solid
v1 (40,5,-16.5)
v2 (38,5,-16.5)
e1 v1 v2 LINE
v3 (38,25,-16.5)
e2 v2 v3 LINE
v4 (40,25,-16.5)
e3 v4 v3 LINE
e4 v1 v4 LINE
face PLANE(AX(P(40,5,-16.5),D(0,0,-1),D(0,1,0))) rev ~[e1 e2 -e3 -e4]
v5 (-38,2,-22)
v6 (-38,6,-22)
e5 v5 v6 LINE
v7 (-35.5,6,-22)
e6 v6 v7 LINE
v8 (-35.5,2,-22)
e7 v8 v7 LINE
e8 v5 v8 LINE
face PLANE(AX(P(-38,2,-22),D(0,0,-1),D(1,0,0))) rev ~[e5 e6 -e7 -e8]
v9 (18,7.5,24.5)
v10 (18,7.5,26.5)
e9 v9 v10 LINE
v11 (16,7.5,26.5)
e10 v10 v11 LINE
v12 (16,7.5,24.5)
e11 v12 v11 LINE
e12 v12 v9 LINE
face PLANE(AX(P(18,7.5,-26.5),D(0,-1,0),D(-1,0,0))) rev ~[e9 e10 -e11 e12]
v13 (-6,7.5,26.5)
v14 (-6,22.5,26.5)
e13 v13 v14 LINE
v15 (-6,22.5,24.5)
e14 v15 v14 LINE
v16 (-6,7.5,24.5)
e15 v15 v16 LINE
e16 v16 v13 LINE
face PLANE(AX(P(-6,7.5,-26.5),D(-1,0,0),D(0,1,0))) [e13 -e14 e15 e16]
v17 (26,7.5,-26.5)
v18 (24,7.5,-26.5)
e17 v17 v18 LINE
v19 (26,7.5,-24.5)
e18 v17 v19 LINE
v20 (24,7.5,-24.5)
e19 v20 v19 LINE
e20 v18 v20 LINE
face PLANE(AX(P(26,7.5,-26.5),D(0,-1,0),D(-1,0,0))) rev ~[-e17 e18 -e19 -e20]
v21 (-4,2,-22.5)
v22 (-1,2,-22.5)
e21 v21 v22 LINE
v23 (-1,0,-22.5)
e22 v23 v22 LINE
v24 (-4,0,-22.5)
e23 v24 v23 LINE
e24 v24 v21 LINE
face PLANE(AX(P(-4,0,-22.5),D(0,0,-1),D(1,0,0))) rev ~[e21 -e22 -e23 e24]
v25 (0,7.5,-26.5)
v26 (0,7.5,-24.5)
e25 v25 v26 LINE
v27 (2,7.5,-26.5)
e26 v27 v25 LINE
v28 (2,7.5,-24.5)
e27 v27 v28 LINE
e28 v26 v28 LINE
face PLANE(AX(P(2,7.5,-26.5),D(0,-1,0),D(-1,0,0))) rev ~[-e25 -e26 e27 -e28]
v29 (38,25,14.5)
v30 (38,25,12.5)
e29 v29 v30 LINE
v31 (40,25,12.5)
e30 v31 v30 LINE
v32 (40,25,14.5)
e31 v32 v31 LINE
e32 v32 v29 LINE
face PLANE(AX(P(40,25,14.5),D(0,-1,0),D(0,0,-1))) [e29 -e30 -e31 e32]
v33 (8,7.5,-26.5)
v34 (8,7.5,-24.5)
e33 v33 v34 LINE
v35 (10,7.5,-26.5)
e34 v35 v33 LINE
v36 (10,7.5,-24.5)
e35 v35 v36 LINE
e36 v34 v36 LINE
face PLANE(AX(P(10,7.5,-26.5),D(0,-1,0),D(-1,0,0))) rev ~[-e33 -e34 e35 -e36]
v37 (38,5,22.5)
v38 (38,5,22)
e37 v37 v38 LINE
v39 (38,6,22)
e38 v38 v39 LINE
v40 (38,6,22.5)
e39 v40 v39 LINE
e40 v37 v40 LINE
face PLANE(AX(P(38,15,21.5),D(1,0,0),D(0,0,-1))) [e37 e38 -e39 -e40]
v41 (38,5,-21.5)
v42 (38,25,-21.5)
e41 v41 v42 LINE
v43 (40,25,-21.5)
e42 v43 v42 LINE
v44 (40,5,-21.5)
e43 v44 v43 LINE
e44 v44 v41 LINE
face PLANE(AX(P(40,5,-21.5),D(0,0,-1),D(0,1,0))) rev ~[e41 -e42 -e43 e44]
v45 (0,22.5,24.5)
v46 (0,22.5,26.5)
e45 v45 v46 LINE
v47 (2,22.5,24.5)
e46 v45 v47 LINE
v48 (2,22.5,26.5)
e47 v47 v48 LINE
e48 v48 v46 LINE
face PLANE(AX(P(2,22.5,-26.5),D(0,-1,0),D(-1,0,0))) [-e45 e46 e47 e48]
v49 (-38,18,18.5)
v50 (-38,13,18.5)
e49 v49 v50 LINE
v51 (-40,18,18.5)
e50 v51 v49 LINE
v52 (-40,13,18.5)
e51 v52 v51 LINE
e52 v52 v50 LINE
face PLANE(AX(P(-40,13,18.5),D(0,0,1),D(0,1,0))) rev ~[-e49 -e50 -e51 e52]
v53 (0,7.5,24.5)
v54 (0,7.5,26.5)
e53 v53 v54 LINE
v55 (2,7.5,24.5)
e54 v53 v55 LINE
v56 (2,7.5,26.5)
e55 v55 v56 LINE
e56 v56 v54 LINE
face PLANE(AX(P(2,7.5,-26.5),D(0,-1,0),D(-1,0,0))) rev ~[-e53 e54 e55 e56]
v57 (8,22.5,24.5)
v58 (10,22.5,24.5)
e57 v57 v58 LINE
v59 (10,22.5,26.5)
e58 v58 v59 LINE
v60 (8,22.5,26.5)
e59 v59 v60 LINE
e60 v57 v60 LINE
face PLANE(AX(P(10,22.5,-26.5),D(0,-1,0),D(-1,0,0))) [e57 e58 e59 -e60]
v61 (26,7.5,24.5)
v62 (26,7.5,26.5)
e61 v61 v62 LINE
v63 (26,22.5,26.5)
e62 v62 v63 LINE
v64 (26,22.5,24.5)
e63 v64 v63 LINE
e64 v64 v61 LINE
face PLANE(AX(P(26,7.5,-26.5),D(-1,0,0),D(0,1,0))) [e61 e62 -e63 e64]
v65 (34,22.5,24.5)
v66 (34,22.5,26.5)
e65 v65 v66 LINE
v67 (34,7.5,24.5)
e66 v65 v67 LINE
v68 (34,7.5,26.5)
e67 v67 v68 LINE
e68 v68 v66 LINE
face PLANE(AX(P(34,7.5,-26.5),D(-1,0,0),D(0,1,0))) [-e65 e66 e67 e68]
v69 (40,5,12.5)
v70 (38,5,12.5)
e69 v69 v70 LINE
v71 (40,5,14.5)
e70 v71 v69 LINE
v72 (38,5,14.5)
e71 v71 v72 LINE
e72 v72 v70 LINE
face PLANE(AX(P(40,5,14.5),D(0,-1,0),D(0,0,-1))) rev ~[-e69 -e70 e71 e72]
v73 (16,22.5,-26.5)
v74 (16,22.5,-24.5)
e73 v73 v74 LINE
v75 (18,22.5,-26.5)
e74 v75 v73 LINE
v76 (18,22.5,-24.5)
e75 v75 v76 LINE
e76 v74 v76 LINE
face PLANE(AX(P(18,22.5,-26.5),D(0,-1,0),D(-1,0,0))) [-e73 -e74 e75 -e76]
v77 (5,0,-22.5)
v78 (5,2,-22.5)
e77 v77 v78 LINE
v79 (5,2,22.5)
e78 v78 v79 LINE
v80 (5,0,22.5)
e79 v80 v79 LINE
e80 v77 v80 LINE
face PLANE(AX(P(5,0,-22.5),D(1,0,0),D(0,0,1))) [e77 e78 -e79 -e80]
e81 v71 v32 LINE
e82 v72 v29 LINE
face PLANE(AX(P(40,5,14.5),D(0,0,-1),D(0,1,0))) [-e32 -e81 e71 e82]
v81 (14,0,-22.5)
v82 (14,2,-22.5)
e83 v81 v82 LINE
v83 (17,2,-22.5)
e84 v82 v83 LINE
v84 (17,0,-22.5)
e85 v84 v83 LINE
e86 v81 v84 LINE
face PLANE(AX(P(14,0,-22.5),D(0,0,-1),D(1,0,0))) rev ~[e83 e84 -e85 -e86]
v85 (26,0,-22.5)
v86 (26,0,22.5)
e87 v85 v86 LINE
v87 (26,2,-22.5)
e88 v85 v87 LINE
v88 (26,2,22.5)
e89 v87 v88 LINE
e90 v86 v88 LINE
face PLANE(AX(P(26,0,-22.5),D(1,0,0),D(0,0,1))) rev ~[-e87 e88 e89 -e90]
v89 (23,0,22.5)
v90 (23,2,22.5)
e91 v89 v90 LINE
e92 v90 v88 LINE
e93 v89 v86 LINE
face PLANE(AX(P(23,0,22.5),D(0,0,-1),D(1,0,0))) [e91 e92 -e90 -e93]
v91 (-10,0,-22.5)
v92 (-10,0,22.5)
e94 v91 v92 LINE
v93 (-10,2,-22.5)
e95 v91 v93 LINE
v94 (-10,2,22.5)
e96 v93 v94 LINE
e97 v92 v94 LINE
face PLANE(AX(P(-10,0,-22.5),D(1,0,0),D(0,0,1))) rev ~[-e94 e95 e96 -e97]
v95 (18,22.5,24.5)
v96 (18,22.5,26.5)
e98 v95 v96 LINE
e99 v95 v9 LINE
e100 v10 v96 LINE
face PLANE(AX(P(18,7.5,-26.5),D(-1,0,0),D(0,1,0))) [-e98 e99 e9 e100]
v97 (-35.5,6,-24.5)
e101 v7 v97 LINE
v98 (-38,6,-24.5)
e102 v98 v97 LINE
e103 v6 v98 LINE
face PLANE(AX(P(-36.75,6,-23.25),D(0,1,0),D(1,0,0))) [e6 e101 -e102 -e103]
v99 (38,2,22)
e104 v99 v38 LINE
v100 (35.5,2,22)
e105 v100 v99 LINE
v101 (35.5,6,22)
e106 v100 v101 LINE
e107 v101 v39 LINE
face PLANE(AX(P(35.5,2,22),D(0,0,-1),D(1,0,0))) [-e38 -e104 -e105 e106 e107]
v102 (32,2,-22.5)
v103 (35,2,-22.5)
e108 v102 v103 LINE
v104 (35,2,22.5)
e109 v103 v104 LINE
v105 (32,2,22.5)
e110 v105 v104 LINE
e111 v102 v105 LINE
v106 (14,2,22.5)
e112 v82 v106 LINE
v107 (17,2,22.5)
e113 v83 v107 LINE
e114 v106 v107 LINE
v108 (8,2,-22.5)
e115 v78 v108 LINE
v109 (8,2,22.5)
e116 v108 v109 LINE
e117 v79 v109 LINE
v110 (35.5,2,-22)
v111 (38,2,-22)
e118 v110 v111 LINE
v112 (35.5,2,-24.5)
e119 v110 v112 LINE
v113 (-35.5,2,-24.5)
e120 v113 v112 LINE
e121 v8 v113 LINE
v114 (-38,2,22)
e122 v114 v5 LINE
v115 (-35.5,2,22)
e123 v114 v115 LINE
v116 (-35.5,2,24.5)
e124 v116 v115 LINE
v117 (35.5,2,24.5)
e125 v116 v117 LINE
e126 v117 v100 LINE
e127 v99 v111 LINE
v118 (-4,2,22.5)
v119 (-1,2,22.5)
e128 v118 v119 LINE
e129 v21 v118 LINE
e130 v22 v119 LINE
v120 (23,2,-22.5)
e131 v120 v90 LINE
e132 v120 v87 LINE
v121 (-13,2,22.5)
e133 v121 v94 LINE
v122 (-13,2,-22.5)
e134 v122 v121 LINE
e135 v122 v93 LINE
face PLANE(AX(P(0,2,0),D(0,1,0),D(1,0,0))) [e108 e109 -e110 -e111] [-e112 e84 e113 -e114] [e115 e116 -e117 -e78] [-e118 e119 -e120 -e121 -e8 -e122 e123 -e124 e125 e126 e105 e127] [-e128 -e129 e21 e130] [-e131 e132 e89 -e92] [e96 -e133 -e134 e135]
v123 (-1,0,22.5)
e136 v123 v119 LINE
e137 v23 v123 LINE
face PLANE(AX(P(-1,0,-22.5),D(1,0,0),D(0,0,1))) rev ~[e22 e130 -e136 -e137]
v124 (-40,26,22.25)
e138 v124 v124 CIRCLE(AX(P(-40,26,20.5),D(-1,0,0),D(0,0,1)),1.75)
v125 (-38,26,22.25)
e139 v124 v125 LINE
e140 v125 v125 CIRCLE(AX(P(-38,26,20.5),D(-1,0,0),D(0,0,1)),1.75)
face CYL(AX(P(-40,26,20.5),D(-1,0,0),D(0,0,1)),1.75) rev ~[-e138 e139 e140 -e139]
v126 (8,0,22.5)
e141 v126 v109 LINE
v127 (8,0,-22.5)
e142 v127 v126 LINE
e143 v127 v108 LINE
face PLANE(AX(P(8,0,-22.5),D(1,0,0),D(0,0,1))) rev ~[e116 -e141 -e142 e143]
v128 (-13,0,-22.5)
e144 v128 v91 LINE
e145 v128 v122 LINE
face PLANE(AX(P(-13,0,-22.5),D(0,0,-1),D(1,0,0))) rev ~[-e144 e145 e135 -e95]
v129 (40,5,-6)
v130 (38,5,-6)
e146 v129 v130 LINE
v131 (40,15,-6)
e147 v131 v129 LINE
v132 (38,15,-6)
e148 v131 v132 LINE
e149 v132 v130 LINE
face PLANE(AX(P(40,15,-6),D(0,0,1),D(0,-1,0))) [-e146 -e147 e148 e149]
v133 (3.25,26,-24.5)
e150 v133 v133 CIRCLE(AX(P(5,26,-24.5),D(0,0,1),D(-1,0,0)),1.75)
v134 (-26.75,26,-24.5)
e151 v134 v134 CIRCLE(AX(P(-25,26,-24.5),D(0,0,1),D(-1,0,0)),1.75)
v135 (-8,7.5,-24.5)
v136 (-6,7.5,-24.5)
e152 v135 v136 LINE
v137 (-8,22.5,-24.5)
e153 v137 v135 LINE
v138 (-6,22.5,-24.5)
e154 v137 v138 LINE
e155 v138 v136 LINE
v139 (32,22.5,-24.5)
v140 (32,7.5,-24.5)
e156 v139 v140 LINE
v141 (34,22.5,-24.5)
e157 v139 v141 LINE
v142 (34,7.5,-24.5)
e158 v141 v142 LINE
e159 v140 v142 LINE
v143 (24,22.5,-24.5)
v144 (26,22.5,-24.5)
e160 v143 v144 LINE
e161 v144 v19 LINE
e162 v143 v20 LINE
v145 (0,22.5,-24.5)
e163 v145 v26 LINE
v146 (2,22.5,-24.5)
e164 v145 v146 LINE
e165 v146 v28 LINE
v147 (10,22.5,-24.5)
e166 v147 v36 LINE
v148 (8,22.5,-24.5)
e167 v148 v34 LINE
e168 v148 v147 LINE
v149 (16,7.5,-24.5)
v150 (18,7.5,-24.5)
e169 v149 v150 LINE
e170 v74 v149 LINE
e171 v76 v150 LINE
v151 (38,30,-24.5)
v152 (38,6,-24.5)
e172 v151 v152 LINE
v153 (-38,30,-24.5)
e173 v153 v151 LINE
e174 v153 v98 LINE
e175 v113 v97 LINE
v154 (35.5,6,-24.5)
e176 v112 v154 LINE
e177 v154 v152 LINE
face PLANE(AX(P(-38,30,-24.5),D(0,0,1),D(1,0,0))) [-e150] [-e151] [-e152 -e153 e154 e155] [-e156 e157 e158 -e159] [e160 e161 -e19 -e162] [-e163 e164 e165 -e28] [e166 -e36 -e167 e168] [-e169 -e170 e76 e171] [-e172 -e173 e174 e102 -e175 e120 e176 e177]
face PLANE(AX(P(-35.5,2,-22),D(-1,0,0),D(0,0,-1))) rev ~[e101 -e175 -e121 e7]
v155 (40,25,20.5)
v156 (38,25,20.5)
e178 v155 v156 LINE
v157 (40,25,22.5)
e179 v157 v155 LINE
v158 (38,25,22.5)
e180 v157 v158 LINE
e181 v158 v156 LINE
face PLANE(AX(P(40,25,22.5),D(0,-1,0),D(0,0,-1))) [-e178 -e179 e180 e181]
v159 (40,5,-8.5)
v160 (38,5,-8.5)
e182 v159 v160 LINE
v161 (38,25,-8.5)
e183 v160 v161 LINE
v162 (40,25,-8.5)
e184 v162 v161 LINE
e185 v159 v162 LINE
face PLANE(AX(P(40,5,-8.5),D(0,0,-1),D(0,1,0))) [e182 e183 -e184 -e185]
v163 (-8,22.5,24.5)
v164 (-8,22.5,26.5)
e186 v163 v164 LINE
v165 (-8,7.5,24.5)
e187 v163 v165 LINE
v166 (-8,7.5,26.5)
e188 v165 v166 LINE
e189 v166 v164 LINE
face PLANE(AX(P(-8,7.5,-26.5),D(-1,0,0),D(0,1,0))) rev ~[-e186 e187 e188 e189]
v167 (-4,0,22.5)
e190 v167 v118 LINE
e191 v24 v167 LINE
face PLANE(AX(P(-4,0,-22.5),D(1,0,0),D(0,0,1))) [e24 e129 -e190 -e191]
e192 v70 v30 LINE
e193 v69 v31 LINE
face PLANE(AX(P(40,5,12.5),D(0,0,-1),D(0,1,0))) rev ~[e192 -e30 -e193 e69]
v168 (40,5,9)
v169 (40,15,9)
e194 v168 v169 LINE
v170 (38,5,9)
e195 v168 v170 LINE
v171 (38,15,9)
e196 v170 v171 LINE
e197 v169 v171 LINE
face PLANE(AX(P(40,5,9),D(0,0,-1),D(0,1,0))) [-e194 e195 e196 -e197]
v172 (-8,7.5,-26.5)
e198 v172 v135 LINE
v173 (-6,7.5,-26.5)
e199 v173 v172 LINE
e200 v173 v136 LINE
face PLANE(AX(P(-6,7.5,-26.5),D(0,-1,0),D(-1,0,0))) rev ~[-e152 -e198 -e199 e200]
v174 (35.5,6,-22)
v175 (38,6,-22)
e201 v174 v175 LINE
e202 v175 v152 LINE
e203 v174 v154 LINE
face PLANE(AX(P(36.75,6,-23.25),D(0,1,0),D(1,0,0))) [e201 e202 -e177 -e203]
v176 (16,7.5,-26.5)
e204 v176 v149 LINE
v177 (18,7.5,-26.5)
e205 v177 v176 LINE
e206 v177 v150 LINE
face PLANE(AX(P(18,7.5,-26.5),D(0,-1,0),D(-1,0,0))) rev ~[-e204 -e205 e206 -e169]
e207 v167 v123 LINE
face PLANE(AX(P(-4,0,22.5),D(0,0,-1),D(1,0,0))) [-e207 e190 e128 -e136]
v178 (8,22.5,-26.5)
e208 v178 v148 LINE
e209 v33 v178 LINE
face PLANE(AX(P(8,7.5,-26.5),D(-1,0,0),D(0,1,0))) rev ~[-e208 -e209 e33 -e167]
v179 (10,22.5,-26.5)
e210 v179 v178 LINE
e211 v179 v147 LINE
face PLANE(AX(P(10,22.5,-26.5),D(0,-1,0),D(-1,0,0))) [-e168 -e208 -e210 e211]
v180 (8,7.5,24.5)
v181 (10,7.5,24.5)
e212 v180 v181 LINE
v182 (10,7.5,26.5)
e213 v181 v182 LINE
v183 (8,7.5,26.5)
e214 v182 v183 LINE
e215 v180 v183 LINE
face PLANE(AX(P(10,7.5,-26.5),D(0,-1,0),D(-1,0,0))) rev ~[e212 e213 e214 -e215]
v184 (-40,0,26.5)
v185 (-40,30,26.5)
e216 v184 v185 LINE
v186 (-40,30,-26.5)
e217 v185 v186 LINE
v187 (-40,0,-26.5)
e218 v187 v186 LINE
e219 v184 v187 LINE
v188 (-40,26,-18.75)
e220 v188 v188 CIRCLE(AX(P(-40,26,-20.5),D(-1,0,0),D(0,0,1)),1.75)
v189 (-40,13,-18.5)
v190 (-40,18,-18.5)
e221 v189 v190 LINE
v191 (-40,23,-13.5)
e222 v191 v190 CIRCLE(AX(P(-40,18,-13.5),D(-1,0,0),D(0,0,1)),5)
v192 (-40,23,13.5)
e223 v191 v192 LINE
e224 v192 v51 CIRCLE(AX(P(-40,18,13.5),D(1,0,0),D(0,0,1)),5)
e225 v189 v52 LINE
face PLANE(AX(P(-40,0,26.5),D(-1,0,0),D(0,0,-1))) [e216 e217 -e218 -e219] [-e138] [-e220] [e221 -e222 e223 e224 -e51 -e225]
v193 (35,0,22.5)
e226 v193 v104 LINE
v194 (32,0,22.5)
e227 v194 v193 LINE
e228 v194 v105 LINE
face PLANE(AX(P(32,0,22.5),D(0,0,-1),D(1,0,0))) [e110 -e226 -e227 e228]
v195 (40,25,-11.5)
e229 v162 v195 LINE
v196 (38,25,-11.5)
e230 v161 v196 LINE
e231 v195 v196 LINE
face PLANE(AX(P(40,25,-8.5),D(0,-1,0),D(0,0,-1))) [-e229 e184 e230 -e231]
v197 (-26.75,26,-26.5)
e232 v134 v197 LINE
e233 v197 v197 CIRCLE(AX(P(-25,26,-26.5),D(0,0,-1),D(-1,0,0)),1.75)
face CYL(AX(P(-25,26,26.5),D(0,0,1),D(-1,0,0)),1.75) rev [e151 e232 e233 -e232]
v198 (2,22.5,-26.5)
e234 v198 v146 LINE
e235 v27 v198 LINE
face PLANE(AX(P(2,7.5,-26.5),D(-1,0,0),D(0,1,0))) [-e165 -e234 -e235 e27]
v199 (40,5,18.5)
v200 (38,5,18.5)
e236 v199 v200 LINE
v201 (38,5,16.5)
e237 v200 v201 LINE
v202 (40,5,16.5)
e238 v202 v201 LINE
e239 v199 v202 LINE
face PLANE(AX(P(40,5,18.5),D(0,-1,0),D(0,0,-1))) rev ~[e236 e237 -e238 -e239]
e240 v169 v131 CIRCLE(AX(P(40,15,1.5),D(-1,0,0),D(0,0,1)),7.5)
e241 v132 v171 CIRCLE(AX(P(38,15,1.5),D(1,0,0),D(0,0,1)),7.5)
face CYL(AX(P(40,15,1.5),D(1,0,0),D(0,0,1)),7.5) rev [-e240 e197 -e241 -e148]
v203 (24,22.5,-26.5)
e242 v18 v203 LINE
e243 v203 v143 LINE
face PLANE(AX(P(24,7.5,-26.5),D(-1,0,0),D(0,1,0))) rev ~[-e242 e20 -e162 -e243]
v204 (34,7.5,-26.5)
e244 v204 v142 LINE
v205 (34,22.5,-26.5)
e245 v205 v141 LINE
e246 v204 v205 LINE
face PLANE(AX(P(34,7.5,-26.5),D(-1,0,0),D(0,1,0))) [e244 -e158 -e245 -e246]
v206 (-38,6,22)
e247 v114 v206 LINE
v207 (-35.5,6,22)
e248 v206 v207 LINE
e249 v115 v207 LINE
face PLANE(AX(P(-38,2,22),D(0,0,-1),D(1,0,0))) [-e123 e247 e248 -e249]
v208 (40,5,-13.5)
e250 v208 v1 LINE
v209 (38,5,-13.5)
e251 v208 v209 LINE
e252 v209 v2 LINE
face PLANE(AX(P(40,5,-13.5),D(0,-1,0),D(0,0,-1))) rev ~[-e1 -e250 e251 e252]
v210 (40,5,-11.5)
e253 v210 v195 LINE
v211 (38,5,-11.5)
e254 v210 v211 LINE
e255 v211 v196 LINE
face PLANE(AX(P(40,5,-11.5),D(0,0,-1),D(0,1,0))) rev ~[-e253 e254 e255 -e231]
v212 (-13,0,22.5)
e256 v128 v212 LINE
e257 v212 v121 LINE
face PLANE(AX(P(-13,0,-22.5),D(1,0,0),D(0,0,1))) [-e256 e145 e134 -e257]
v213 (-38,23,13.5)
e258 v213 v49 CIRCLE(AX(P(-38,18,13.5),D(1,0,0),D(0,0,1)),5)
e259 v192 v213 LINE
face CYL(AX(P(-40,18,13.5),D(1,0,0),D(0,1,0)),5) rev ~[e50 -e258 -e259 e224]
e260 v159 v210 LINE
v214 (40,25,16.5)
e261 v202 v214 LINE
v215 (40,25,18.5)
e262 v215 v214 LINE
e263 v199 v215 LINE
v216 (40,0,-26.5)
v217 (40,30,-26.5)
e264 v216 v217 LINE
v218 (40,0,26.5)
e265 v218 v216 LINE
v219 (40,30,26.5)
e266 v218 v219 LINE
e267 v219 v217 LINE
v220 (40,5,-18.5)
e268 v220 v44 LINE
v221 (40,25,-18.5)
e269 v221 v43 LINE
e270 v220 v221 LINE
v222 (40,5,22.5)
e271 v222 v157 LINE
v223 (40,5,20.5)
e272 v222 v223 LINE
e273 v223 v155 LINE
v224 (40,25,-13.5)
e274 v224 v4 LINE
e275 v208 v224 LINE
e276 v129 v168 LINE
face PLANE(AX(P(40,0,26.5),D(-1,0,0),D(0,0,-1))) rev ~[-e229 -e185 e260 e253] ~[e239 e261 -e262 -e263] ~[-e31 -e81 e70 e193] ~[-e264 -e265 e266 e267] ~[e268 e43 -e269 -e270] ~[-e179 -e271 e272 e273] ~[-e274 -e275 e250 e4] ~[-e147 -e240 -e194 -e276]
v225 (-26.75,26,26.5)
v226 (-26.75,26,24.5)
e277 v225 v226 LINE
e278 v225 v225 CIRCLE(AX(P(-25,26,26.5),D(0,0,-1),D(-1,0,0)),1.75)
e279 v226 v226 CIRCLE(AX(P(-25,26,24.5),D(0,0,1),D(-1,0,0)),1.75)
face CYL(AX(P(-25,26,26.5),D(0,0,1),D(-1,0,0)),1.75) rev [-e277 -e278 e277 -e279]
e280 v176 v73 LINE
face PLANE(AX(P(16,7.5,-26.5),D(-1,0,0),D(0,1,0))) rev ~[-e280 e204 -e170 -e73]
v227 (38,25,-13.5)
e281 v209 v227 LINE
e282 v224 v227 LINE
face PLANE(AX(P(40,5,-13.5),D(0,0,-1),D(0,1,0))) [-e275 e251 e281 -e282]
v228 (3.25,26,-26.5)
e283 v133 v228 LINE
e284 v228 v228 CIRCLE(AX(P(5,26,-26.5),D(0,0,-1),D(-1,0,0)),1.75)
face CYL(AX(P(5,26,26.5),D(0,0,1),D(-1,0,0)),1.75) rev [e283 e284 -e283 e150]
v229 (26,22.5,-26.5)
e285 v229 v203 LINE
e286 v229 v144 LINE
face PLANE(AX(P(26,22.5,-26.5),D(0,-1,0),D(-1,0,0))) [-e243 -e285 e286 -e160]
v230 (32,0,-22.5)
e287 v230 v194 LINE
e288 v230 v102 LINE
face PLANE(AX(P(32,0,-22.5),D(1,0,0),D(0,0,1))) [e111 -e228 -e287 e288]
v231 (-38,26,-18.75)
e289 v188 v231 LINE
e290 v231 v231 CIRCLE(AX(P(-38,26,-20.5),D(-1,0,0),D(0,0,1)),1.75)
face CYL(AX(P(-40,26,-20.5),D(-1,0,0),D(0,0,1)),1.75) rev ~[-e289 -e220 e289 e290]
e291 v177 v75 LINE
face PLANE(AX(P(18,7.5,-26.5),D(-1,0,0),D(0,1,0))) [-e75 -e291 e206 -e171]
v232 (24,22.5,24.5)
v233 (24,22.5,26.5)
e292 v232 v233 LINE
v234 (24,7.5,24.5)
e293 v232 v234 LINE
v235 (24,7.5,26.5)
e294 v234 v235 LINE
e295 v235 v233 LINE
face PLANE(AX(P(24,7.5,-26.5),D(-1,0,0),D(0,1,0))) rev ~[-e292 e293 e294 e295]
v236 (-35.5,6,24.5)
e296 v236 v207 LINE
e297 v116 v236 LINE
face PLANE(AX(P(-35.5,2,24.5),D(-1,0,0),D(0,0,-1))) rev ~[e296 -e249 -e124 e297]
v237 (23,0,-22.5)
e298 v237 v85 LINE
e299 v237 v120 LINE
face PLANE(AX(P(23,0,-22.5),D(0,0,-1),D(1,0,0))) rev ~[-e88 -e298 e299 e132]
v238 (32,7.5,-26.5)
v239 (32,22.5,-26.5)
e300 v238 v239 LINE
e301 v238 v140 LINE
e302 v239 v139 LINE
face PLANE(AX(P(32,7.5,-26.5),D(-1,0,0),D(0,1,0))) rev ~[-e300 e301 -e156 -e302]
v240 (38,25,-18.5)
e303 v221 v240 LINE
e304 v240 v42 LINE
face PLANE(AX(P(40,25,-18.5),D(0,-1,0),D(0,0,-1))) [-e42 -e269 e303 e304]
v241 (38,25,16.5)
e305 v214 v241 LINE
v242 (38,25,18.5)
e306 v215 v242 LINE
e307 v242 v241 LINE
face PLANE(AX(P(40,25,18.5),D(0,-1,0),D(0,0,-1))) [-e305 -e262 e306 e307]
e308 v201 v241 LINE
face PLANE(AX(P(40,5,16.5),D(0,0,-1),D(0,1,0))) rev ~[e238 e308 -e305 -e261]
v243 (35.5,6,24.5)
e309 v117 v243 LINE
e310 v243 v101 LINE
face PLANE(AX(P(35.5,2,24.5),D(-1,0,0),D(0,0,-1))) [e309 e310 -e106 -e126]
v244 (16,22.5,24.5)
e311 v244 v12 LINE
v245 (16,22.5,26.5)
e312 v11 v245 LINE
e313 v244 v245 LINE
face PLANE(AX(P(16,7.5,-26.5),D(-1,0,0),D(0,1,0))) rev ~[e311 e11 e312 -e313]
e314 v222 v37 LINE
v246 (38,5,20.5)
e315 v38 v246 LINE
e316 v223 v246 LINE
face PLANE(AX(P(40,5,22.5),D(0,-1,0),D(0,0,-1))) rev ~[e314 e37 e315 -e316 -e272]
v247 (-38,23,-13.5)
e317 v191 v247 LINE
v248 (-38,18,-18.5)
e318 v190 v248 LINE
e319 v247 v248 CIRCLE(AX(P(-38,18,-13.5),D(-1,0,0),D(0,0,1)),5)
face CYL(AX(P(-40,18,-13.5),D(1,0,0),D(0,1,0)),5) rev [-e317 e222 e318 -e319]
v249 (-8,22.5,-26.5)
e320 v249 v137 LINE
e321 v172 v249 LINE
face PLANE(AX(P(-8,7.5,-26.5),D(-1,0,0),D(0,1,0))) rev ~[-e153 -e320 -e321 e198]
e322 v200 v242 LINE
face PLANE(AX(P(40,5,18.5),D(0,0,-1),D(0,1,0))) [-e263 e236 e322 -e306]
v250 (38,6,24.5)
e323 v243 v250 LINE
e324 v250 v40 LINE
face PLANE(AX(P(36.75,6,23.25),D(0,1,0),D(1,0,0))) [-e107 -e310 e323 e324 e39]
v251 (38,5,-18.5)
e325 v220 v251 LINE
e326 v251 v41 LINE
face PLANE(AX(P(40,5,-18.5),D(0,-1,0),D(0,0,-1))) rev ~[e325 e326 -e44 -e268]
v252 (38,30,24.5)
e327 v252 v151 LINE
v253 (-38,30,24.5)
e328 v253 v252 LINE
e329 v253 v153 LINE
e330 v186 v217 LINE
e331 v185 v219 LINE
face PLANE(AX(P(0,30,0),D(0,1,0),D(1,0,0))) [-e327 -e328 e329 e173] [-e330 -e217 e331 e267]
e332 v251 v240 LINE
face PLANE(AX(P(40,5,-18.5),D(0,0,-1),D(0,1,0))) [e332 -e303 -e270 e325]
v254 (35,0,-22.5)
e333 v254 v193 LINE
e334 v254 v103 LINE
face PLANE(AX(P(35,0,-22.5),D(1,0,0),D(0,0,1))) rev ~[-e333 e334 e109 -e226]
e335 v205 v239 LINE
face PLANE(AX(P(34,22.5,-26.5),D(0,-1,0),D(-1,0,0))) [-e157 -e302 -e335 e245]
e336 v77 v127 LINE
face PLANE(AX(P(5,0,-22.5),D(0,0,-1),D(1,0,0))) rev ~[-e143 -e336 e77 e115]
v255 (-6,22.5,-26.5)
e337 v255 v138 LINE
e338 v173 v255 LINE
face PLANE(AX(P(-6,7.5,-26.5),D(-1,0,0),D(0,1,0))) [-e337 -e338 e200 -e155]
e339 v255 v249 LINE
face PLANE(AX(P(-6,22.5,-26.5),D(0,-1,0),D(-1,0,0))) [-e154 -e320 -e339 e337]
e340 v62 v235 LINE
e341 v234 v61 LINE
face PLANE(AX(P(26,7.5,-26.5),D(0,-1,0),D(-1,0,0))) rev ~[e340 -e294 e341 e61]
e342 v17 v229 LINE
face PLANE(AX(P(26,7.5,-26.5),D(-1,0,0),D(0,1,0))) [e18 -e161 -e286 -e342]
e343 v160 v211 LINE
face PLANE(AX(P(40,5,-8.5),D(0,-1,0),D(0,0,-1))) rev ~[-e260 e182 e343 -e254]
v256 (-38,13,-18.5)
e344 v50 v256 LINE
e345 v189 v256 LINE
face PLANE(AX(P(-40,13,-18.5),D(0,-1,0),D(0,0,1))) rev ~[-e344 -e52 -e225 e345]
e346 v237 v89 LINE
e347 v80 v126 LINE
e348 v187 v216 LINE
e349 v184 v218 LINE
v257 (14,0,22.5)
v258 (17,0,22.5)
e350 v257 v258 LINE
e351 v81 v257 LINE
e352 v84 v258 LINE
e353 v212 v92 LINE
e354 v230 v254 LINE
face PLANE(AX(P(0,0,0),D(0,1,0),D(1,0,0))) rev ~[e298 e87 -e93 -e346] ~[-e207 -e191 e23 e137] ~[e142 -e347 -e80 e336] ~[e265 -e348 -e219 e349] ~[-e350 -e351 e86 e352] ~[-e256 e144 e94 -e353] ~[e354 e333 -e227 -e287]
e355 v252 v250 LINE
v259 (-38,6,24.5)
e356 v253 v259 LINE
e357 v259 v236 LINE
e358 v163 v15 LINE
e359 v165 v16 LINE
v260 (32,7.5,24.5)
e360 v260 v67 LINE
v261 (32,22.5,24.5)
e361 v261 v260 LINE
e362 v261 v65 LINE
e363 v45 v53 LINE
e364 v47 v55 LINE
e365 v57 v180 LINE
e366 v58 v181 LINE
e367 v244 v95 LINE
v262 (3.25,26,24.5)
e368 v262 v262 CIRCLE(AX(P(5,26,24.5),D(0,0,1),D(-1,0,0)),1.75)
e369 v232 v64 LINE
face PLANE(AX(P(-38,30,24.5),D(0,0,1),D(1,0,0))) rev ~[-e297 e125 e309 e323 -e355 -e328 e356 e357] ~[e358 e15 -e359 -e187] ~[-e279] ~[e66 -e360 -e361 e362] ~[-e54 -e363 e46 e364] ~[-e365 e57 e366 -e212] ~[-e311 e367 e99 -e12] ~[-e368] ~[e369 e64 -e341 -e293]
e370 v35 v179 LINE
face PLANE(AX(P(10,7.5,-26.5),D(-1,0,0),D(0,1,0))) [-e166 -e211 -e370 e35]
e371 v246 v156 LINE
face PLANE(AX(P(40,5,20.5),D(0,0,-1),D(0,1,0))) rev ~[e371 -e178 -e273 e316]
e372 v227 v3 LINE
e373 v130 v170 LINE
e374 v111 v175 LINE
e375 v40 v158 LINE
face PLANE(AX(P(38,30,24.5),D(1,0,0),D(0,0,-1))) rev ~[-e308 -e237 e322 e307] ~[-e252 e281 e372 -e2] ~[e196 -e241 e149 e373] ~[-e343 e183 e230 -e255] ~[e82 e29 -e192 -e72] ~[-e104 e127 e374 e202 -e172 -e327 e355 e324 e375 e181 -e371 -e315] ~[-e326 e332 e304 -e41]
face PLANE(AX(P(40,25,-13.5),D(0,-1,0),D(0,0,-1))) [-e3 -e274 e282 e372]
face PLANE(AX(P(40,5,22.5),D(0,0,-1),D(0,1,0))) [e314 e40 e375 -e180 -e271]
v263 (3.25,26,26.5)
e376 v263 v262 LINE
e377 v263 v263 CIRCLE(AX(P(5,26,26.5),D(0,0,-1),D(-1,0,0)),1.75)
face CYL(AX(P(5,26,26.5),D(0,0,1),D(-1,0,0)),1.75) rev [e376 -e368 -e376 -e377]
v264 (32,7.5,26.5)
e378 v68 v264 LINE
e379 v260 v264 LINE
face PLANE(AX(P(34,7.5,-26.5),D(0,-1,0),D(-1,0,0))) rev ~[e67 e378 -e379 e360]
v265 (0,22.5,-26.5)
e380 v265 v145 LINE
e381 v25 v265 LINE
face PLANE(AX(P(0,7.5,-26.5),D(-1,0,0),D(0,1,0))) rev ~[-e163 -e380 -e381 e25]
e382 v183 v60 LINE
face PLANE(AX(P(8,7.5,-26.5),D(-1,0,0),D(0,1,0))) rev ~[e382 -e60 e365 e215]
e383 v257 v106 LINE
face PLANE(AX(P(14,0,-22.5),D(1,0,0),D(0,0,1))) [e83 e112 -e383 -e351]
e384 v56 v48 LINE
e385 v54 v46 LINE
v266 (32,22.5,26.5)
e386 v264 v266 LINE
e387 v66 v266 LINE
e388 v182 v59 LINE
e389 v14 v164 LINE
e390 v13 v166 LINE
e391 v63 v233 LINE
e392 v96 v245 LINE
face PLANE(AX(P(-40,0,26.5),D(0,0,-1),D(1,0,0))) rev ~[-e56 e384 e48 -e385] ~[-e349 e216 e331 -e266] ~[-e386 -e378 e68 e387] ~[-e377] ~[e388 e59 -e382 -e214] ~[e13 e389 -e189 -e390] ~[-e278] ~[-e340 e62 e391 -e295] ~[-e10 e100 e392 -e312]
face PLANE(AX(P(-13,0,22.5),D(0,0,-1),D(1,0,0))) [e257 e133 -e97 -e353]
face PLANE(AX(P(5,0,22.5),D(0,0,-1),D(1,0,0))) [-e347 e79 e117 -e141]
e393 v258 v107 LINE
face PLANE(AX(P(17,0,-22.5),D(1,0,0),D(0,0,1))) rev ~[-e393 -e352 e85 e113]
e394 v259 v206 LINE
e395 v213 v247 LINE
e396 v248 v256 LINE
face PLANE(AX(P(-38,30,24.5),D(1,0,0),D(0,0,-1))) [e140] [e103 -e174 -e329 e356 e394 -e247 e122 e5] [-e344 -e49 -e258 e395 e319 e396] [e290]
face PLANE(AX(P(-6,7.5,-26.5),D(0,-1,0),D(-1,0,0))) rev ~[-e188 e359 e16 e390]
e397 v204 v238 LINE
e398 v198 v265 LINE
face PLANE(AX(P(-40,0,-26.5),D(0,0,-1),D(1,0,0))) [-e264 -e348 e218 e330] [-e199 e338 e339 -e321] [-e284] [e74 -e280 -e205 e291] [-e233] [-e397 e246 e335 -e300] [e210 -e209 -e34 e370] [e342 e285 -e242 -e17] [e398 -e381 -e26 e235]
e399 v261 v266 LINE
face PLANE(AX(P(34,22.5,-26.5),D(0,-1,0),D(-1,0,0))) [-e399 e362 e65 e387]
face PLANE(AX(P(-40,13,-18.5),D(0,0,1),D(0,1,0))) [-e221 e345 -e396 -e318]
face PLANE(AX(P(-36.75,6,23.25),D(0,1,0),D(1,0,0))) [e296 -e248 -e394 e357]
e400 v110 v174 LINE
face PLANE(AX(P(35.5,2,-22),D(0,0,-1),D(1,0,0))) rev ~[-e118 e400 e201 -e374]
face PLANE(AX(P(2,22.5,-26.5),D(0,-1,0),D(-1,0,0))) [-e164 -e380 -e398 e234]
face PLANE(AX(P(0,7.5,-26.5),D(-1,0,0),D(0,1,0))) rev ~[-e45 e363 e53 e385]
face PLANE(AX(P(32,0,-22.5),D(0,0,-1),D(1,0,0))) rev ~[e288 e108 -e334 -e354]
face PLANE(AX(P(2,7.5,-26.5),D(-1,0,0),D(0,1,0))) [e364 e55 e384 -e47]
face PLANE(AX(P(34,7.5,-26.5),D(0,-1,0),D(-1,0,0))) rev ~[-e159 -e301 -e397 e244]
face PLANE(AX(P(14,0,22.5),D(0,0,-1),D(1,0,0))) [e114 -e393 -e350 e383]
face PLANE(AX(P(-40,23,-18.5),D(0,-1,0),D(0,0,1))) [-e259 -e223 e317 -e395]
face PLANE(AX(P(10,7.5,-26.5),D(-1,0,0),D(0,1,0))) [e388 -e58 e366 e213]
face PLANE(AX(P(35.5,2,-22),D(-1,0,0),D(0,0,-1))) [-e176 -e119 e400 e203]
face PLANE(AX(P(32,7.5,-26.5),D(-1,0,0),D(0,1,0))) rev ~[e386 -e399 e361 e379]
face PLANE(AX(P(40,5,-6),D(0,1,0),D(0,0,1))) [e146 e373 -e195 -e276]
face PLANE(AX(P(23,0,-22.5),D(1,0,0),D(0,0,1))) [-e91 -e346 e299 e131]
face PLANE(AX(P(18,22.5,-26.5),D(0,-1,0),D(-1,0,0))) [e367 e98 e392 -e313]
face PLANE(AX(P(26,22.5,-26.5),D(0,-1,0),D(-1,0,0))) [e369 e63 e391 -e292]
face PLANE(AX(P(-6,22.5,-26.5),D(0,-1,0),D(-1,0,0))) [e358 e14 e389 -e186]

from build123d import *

# Parameters (mm, degrees)
SKETCH1_W           = 80
SKETCH1_H           = 53
BOSS_EXTRUDE1_DEPTH = 30
SKETCH2_W           = 76
SKETCH2_H           = 49
CUT_EXTRUDE1_DEPTH  = 28
CUT_EXTRUDE2_DEPTH  = 6
SKETCH4_W           = 37
SKETCH4_H           = 10
CUT_EXTRUDE3_DEPTH  = 6
SKETCH5_W           = 2.5
SKETCH5_H           = 2.5
STANDOFFS_DEPTH     = 4
FILLET3_R           = 5
FILLET4_R           = 5
SKETCH6_W           = 3
SKETCH6_H           = 45
BOTTOM_GRILL_DEPTH  = 2
CUT_EXTRUDE5_REACH  = 74.863
SKETCH7_W           = 2
SKETCH7_H           = 15
CUT_EXTRUDE6_START  = -53
SKETCH8_R           = 1.75
CUT_EXTRUDE6_DEPTH  = 53
SKETCH9_R           = 1.75
CUT_EXTRUDE7_DEPTH  = 2
SKETCH10_W          = 3
SKETCH10_H          = 20
SKETCH10_W_2        = 2
CUT_EXTRUDE8_DEPTH  = 2


with BuildPart() as part:
    # Sketch1 → Boss-Extrude1 (new body)
    with BuildSketch(Plane(origin=(0, 0, 0), x_dir=(1, 0, 0), z_dir=(0, 1, 0))):
        Rectangle(SKETCH1_W, SKETCH1_H)
    extrude(amount=BOSS_EXTRUDE1_DEPTH)

    # Sketch2 → Cut-Extrude1 (cut)
    with BuildSketch(Plane(origin=(0, 30, 0), x_dir=(1, 0, 0), z_dir=(0, 1, 0))):
        Rectangle(SKETCH2_W, SKETCH2_H)
    extrude(amount=-CUT_EXTRUDE1_DEPTH, mode=Mode.SUBTRACT)

    # Sketch3 → Cut-Extrude2 (cut)
    with BuildSketch(Plane(origin=(40, 0, 0), x_dir=(0, 0, -1), z_dir=(1, 0, 0))):
        with BuildLine():
            Line((6, 15), (6, 5))
            Line((6, 5), (-9, 5))
            Line((-9, 5), (-9, 15))
            ThreePointArc((-9, 15), (-1.5, 22.5), (6, 15))
        make_face()
    extrude(amount=-CUT_EXTRUDE2_DEPTH, mode=Mode.SUBTRACT)

    # Sketch4 → Cut-Extrude3 (cut)
    with BuildSketch(Plane.ZY.offset(40)):
        with Locations((0, 18)):
            Rectangle(SKETCH4_W, SKETCH4_H)
    extrude(amount=-CUT_EXTRUDE3_DEPTH, mode=Mode.SUBTRACT)

    # Sketch5 → Standoffs (add)
    with BuildSketch(Plane(origin=(0, 2, 0), x_dir=(1, 0, 0), z_dir=(0, 1, 0))):
        with Locations((36.75, 23.25)):
            Rectangle(SKETCH5_W, SKETCH5_H)
        with Locations((36.75, -23.25)):
            Rectangle(SKETCH5_W, SKETCH5_H)
        with Locations((-36.75, -23.25)):
            Rectangle(SKETCH5_W, SKETCH5_H)
        with Locations((-36.75, 23.25)):
            Rectangle(SKETCH5_W, SKETCH5_H)
    extrude(amount=STANDOFFS_DEPTH)

    # Fillet3
    fillet3_edges = [part.edges().sort_by_distance(p)[0] for p in [
        (-39, 23, -18.5),
    ]]
    fillet(fillet3_edges, radius=FILLET3_R)

    # Fillet4
    fillet4_edges = [part.edges().sort_by_distance(p)[0] for p in [
        (-39, 23, 18.5),
    ]]
    fillet(fillet4_edges, radius=FILLET4_R)

    # Sketch6 → Bottom Grill (cut)
    with BuildSketch(Plane.XZ):
        with Locations((33.5, 0)):
            Rectangle(SKETCH6_W, SKETCH6_H)
        with Locations((24.5, 0)):
            Rectangle(SKETCH6_W, SKETCH6_H)
        with Locations((15.5, 0)):
            Rectangle(SKETCH6_W, SKETCH6_H)
        with Locations((6.5, 0)):
            Rectangle(SKETCH6_W, SKETCH6_H)
        with Locations((-2.5, 0)):
            Rectangle(SKETCH6_W, SKETCH6_H)
        with Locations((-11.5, 0)):
            Rectangle(SKETCH6_W, SKETCH6_H)
    extrude(amount=-BOTTOM_GRILL_DEPTH, mode=Mode.SUBTRACT)

    # Cut-Extrude5: up to this face of the body (flat: up to its plane)
    cut_extrude5_end = Plane(part.part.faces().sort_by_distance((0, 15, 26.5))[0])
    # Sketch7 → Cut-Extrude5 (cut, up to the picked face)
    with BuildSketch(Plane(origin=(0, 0, -26.5), x_dir=(-1, 0, 0), z_dir=(0, 0, -1)), mode=Mode.PRIVATE) as cut_extrude5_sk1:
        with Locations((-33, 15)):
            Rectangle(SKETCH7_W, SKETCH7_H)
    cut_extrude5_tool1 = split(extrude(cut_extrude5_sk1.sketch, amount=-CUT_EXTRUDE5_REACH, mode=Mode.PRIVATE), bisect_by=cut_extrude5_end, keep=Keep.BOTH, mode=Mode.PRIVATE)
    # Sketch7 → Cut-Extrude5 (cut, up to the picked face)
    with BuildSketch(Plane(origin=(0, 0, -26.5), x_dir=(-1, 0, 0), z_dir=(0, 0, -1)), mode=Mode.PRIVATE) as cut_extrude5_sk2:
        with Locations((-25, 15)):
            Rectangle(SKETCH7_W, SKETCH7_H)
    cut_extrude5_tool2 = split(extrude(cut_extrude5_sk2.sketch, amount=-CUT_EXTRUDE5_REACH, mode=Mode.PRIVATE), bisect_by=cut_extrude5_end, keep=Keep.BOTH, mode=Mode.PRIVATE)
    # Sketch7 → Cut-Extrude5 (cut, up to the picked face)
    with BuildSketch(Plane(origin=(0, 0, -26.5), x_dir=(-1, 0, 0), z_dir=(0, 0, -1)), mode=Mode.PRIVATE) as cut_extrude5_sk3:
        with Locations((-17, 15)):
            Rectangle(SKETCH7_W, SKETCH7_H)
    cut_extrude5_tool3 = split(extrude(cut_extrude5_sk3.sketch, amount=-CUT_EXTRUDE5_REACH, mode=Mode.PRIVATE), bisect_by=cut_extrude5_end, keep=Keep.BOTH, mode=Mode.PRIVATE)
    # Sketch7 → Cut-Extrude5 (cut, up to the picked face)
    with BuildSketch(Plane(origin=(0, 0, -26.5), x_dir=(-1, 0, 0), z_dir=(0, 0, -1)), mode=Mode.PRIVATE) as cut_extrude5_sk4:
        with Locations((-9, 15)):
            Rectangle(SKETCH7_W, SKETCH7_H)
    cut_extrude5_tool4 = split(extrude(cut_extrude5_sk4.sketch, amount=-CUT_EXTRUDE5_REACH, mode=Mode.PRIVATE), bisect_by=cut_extrude5_end, keep=Keep.BOTH, mode=Mode.PRIVATE)
    # Sketch7 → Cut-Extrude5 (cut, up to the picked face)
    with BuildSketch(Plane(origin=(0, 0, -26.5), x_dir=(-1, 0, 0), z_dir=(0, 0, -1)), mode=Mode.PRIVATE) as cut_extrude5_sk5:
        with Locations((-1, 15)):
            Rectangle(SKETCH7_W, SKETCH7_H)
    cut_extrude5_tool5 = split(extrude(cut_extrude5_sk5.sketch, amount=-CUT_EXTRUDE5_REACH, mode=Mode.PRIVATE), bisect_by=cut_extrude5_end, keep=Keep.BOTH, mode=Mode.PRIVATE)
    # Sketch7 → Cut-Extrude5 (cut, up to the picked face)
    with BuildSketch(Plane(origin=(0, 0, -26.5), x_dir=(-1, 0, 0), z_dir=(0, 0, -1)), mode=Mode.PRIVATE) as cut_extrude5_sk6:
        with Locations((7, 15)):
            Rectangle(SKETCH7_W, SKETCH7_H)
    cut_extrude5_tool6 = split(extrude(cut_extrude5_sk6.sketch, amount=-CUT_EXTRUDE5_REACH, mode=Mode.PRIVATE), bisect_by=cut_extrude5_end, keep=Keep.BOTH, mode=Mode.PRIVATE)
    add(cut_extrude5_tool1.solids().sort_by(Axis((33, 15, -26.5), (0, 0, 1)))[0], mode=Mode.SUBTRACT)
    add(cut_extrude5_tool2.solids().sort_by(Axis((25, 15, -26.5), (0, 0, 1)))[0], mode=Mode.SUBTRACT)
    add(cut_extrude5_tool3.solids().sort_by(Axis((17, 15, -26.5), (0, 0, 1)))[0], mode=Mode.SUBTRACT)
    add(cut_extrude5_tool4.solids().sort_by(Axis((9, 15, -26.5), (0, 0, 1)))[0], mode=Mode.SUBTRACT)
    add(cut_extrude5_tool5.solids().sort_by(Axis((1, 15, -26.5), (0, 0, 1)))[0], mode=Mode.SUBTRACT)
    add(cut_extrude5_tool6.solids().sort_by(Axis((-7, 15, -26.5), (0, 0, 1)))[0], mode=Mode.SUBTRACT)

    # Sketch8 → Cut-Extrude6 (cut)
    with BuildSketch(Plane(origin=(0, 0, -26.5), x_dir=(-1, 0, 0), z_dir=(0, 0, -1)).offset(CUT_EXTRUDE6_START)):
        with Locations((-5, 26)):
            Circle(SKETCH8_R)
        with Locations((25, 26)):
            Circle(SKETCH8_R)
    extrude(amount=CUT_EXTRUDE6_DEPTH, mode=Mode.SUBTRACT)

    # Sketch9 → Cut-Extrude7 (cut)
    with BuildSketch(Plane.ZY.offset(40)):
        with Locations((-20.5, 26)):
            Circle(SKETCH9_R)
        with Locations((20.5, 26)):
            Circle(SKETCH9_R)
    extrude(amount=-CUT_EXTRUDE7_DEPTH, mode=Mode.SUBTRACT)

    # Sketch10 → Cut-Extrude8 (cut)
    with BuildSketch(Plane(origin=(40, 0, 0), x_dir=(0, 0, -1), z_dir=(1, 0, 0))):
        with Locations((20, 15)):
            Rectangle(SKETCH10_W, SKETCH10_H)
        with Locations((15, 15)):
            Rectangle(SKETCH10_W, SKETCH10_H)
        with Locations((10, 15)):
            Rectangle(SKETCH10_W, SKETCH10_H)
        with Locations((-21.5, 15)):
            Rectangle(SKETCH10_W_2, SKETCH10_H)
        with Locations((-17.5, 15)):
            Rectangle(SKETCH10_W_2, SKETCH10_H)
        with Locations((-13.5, 15)):
            Rectangle(SKETCH10_W_2, SKETCH10_H)
    extrude(amount=-CUT_EXTRUDE8_DEPTH, mode=Mode.SUBTRACT)


solid = part.part
